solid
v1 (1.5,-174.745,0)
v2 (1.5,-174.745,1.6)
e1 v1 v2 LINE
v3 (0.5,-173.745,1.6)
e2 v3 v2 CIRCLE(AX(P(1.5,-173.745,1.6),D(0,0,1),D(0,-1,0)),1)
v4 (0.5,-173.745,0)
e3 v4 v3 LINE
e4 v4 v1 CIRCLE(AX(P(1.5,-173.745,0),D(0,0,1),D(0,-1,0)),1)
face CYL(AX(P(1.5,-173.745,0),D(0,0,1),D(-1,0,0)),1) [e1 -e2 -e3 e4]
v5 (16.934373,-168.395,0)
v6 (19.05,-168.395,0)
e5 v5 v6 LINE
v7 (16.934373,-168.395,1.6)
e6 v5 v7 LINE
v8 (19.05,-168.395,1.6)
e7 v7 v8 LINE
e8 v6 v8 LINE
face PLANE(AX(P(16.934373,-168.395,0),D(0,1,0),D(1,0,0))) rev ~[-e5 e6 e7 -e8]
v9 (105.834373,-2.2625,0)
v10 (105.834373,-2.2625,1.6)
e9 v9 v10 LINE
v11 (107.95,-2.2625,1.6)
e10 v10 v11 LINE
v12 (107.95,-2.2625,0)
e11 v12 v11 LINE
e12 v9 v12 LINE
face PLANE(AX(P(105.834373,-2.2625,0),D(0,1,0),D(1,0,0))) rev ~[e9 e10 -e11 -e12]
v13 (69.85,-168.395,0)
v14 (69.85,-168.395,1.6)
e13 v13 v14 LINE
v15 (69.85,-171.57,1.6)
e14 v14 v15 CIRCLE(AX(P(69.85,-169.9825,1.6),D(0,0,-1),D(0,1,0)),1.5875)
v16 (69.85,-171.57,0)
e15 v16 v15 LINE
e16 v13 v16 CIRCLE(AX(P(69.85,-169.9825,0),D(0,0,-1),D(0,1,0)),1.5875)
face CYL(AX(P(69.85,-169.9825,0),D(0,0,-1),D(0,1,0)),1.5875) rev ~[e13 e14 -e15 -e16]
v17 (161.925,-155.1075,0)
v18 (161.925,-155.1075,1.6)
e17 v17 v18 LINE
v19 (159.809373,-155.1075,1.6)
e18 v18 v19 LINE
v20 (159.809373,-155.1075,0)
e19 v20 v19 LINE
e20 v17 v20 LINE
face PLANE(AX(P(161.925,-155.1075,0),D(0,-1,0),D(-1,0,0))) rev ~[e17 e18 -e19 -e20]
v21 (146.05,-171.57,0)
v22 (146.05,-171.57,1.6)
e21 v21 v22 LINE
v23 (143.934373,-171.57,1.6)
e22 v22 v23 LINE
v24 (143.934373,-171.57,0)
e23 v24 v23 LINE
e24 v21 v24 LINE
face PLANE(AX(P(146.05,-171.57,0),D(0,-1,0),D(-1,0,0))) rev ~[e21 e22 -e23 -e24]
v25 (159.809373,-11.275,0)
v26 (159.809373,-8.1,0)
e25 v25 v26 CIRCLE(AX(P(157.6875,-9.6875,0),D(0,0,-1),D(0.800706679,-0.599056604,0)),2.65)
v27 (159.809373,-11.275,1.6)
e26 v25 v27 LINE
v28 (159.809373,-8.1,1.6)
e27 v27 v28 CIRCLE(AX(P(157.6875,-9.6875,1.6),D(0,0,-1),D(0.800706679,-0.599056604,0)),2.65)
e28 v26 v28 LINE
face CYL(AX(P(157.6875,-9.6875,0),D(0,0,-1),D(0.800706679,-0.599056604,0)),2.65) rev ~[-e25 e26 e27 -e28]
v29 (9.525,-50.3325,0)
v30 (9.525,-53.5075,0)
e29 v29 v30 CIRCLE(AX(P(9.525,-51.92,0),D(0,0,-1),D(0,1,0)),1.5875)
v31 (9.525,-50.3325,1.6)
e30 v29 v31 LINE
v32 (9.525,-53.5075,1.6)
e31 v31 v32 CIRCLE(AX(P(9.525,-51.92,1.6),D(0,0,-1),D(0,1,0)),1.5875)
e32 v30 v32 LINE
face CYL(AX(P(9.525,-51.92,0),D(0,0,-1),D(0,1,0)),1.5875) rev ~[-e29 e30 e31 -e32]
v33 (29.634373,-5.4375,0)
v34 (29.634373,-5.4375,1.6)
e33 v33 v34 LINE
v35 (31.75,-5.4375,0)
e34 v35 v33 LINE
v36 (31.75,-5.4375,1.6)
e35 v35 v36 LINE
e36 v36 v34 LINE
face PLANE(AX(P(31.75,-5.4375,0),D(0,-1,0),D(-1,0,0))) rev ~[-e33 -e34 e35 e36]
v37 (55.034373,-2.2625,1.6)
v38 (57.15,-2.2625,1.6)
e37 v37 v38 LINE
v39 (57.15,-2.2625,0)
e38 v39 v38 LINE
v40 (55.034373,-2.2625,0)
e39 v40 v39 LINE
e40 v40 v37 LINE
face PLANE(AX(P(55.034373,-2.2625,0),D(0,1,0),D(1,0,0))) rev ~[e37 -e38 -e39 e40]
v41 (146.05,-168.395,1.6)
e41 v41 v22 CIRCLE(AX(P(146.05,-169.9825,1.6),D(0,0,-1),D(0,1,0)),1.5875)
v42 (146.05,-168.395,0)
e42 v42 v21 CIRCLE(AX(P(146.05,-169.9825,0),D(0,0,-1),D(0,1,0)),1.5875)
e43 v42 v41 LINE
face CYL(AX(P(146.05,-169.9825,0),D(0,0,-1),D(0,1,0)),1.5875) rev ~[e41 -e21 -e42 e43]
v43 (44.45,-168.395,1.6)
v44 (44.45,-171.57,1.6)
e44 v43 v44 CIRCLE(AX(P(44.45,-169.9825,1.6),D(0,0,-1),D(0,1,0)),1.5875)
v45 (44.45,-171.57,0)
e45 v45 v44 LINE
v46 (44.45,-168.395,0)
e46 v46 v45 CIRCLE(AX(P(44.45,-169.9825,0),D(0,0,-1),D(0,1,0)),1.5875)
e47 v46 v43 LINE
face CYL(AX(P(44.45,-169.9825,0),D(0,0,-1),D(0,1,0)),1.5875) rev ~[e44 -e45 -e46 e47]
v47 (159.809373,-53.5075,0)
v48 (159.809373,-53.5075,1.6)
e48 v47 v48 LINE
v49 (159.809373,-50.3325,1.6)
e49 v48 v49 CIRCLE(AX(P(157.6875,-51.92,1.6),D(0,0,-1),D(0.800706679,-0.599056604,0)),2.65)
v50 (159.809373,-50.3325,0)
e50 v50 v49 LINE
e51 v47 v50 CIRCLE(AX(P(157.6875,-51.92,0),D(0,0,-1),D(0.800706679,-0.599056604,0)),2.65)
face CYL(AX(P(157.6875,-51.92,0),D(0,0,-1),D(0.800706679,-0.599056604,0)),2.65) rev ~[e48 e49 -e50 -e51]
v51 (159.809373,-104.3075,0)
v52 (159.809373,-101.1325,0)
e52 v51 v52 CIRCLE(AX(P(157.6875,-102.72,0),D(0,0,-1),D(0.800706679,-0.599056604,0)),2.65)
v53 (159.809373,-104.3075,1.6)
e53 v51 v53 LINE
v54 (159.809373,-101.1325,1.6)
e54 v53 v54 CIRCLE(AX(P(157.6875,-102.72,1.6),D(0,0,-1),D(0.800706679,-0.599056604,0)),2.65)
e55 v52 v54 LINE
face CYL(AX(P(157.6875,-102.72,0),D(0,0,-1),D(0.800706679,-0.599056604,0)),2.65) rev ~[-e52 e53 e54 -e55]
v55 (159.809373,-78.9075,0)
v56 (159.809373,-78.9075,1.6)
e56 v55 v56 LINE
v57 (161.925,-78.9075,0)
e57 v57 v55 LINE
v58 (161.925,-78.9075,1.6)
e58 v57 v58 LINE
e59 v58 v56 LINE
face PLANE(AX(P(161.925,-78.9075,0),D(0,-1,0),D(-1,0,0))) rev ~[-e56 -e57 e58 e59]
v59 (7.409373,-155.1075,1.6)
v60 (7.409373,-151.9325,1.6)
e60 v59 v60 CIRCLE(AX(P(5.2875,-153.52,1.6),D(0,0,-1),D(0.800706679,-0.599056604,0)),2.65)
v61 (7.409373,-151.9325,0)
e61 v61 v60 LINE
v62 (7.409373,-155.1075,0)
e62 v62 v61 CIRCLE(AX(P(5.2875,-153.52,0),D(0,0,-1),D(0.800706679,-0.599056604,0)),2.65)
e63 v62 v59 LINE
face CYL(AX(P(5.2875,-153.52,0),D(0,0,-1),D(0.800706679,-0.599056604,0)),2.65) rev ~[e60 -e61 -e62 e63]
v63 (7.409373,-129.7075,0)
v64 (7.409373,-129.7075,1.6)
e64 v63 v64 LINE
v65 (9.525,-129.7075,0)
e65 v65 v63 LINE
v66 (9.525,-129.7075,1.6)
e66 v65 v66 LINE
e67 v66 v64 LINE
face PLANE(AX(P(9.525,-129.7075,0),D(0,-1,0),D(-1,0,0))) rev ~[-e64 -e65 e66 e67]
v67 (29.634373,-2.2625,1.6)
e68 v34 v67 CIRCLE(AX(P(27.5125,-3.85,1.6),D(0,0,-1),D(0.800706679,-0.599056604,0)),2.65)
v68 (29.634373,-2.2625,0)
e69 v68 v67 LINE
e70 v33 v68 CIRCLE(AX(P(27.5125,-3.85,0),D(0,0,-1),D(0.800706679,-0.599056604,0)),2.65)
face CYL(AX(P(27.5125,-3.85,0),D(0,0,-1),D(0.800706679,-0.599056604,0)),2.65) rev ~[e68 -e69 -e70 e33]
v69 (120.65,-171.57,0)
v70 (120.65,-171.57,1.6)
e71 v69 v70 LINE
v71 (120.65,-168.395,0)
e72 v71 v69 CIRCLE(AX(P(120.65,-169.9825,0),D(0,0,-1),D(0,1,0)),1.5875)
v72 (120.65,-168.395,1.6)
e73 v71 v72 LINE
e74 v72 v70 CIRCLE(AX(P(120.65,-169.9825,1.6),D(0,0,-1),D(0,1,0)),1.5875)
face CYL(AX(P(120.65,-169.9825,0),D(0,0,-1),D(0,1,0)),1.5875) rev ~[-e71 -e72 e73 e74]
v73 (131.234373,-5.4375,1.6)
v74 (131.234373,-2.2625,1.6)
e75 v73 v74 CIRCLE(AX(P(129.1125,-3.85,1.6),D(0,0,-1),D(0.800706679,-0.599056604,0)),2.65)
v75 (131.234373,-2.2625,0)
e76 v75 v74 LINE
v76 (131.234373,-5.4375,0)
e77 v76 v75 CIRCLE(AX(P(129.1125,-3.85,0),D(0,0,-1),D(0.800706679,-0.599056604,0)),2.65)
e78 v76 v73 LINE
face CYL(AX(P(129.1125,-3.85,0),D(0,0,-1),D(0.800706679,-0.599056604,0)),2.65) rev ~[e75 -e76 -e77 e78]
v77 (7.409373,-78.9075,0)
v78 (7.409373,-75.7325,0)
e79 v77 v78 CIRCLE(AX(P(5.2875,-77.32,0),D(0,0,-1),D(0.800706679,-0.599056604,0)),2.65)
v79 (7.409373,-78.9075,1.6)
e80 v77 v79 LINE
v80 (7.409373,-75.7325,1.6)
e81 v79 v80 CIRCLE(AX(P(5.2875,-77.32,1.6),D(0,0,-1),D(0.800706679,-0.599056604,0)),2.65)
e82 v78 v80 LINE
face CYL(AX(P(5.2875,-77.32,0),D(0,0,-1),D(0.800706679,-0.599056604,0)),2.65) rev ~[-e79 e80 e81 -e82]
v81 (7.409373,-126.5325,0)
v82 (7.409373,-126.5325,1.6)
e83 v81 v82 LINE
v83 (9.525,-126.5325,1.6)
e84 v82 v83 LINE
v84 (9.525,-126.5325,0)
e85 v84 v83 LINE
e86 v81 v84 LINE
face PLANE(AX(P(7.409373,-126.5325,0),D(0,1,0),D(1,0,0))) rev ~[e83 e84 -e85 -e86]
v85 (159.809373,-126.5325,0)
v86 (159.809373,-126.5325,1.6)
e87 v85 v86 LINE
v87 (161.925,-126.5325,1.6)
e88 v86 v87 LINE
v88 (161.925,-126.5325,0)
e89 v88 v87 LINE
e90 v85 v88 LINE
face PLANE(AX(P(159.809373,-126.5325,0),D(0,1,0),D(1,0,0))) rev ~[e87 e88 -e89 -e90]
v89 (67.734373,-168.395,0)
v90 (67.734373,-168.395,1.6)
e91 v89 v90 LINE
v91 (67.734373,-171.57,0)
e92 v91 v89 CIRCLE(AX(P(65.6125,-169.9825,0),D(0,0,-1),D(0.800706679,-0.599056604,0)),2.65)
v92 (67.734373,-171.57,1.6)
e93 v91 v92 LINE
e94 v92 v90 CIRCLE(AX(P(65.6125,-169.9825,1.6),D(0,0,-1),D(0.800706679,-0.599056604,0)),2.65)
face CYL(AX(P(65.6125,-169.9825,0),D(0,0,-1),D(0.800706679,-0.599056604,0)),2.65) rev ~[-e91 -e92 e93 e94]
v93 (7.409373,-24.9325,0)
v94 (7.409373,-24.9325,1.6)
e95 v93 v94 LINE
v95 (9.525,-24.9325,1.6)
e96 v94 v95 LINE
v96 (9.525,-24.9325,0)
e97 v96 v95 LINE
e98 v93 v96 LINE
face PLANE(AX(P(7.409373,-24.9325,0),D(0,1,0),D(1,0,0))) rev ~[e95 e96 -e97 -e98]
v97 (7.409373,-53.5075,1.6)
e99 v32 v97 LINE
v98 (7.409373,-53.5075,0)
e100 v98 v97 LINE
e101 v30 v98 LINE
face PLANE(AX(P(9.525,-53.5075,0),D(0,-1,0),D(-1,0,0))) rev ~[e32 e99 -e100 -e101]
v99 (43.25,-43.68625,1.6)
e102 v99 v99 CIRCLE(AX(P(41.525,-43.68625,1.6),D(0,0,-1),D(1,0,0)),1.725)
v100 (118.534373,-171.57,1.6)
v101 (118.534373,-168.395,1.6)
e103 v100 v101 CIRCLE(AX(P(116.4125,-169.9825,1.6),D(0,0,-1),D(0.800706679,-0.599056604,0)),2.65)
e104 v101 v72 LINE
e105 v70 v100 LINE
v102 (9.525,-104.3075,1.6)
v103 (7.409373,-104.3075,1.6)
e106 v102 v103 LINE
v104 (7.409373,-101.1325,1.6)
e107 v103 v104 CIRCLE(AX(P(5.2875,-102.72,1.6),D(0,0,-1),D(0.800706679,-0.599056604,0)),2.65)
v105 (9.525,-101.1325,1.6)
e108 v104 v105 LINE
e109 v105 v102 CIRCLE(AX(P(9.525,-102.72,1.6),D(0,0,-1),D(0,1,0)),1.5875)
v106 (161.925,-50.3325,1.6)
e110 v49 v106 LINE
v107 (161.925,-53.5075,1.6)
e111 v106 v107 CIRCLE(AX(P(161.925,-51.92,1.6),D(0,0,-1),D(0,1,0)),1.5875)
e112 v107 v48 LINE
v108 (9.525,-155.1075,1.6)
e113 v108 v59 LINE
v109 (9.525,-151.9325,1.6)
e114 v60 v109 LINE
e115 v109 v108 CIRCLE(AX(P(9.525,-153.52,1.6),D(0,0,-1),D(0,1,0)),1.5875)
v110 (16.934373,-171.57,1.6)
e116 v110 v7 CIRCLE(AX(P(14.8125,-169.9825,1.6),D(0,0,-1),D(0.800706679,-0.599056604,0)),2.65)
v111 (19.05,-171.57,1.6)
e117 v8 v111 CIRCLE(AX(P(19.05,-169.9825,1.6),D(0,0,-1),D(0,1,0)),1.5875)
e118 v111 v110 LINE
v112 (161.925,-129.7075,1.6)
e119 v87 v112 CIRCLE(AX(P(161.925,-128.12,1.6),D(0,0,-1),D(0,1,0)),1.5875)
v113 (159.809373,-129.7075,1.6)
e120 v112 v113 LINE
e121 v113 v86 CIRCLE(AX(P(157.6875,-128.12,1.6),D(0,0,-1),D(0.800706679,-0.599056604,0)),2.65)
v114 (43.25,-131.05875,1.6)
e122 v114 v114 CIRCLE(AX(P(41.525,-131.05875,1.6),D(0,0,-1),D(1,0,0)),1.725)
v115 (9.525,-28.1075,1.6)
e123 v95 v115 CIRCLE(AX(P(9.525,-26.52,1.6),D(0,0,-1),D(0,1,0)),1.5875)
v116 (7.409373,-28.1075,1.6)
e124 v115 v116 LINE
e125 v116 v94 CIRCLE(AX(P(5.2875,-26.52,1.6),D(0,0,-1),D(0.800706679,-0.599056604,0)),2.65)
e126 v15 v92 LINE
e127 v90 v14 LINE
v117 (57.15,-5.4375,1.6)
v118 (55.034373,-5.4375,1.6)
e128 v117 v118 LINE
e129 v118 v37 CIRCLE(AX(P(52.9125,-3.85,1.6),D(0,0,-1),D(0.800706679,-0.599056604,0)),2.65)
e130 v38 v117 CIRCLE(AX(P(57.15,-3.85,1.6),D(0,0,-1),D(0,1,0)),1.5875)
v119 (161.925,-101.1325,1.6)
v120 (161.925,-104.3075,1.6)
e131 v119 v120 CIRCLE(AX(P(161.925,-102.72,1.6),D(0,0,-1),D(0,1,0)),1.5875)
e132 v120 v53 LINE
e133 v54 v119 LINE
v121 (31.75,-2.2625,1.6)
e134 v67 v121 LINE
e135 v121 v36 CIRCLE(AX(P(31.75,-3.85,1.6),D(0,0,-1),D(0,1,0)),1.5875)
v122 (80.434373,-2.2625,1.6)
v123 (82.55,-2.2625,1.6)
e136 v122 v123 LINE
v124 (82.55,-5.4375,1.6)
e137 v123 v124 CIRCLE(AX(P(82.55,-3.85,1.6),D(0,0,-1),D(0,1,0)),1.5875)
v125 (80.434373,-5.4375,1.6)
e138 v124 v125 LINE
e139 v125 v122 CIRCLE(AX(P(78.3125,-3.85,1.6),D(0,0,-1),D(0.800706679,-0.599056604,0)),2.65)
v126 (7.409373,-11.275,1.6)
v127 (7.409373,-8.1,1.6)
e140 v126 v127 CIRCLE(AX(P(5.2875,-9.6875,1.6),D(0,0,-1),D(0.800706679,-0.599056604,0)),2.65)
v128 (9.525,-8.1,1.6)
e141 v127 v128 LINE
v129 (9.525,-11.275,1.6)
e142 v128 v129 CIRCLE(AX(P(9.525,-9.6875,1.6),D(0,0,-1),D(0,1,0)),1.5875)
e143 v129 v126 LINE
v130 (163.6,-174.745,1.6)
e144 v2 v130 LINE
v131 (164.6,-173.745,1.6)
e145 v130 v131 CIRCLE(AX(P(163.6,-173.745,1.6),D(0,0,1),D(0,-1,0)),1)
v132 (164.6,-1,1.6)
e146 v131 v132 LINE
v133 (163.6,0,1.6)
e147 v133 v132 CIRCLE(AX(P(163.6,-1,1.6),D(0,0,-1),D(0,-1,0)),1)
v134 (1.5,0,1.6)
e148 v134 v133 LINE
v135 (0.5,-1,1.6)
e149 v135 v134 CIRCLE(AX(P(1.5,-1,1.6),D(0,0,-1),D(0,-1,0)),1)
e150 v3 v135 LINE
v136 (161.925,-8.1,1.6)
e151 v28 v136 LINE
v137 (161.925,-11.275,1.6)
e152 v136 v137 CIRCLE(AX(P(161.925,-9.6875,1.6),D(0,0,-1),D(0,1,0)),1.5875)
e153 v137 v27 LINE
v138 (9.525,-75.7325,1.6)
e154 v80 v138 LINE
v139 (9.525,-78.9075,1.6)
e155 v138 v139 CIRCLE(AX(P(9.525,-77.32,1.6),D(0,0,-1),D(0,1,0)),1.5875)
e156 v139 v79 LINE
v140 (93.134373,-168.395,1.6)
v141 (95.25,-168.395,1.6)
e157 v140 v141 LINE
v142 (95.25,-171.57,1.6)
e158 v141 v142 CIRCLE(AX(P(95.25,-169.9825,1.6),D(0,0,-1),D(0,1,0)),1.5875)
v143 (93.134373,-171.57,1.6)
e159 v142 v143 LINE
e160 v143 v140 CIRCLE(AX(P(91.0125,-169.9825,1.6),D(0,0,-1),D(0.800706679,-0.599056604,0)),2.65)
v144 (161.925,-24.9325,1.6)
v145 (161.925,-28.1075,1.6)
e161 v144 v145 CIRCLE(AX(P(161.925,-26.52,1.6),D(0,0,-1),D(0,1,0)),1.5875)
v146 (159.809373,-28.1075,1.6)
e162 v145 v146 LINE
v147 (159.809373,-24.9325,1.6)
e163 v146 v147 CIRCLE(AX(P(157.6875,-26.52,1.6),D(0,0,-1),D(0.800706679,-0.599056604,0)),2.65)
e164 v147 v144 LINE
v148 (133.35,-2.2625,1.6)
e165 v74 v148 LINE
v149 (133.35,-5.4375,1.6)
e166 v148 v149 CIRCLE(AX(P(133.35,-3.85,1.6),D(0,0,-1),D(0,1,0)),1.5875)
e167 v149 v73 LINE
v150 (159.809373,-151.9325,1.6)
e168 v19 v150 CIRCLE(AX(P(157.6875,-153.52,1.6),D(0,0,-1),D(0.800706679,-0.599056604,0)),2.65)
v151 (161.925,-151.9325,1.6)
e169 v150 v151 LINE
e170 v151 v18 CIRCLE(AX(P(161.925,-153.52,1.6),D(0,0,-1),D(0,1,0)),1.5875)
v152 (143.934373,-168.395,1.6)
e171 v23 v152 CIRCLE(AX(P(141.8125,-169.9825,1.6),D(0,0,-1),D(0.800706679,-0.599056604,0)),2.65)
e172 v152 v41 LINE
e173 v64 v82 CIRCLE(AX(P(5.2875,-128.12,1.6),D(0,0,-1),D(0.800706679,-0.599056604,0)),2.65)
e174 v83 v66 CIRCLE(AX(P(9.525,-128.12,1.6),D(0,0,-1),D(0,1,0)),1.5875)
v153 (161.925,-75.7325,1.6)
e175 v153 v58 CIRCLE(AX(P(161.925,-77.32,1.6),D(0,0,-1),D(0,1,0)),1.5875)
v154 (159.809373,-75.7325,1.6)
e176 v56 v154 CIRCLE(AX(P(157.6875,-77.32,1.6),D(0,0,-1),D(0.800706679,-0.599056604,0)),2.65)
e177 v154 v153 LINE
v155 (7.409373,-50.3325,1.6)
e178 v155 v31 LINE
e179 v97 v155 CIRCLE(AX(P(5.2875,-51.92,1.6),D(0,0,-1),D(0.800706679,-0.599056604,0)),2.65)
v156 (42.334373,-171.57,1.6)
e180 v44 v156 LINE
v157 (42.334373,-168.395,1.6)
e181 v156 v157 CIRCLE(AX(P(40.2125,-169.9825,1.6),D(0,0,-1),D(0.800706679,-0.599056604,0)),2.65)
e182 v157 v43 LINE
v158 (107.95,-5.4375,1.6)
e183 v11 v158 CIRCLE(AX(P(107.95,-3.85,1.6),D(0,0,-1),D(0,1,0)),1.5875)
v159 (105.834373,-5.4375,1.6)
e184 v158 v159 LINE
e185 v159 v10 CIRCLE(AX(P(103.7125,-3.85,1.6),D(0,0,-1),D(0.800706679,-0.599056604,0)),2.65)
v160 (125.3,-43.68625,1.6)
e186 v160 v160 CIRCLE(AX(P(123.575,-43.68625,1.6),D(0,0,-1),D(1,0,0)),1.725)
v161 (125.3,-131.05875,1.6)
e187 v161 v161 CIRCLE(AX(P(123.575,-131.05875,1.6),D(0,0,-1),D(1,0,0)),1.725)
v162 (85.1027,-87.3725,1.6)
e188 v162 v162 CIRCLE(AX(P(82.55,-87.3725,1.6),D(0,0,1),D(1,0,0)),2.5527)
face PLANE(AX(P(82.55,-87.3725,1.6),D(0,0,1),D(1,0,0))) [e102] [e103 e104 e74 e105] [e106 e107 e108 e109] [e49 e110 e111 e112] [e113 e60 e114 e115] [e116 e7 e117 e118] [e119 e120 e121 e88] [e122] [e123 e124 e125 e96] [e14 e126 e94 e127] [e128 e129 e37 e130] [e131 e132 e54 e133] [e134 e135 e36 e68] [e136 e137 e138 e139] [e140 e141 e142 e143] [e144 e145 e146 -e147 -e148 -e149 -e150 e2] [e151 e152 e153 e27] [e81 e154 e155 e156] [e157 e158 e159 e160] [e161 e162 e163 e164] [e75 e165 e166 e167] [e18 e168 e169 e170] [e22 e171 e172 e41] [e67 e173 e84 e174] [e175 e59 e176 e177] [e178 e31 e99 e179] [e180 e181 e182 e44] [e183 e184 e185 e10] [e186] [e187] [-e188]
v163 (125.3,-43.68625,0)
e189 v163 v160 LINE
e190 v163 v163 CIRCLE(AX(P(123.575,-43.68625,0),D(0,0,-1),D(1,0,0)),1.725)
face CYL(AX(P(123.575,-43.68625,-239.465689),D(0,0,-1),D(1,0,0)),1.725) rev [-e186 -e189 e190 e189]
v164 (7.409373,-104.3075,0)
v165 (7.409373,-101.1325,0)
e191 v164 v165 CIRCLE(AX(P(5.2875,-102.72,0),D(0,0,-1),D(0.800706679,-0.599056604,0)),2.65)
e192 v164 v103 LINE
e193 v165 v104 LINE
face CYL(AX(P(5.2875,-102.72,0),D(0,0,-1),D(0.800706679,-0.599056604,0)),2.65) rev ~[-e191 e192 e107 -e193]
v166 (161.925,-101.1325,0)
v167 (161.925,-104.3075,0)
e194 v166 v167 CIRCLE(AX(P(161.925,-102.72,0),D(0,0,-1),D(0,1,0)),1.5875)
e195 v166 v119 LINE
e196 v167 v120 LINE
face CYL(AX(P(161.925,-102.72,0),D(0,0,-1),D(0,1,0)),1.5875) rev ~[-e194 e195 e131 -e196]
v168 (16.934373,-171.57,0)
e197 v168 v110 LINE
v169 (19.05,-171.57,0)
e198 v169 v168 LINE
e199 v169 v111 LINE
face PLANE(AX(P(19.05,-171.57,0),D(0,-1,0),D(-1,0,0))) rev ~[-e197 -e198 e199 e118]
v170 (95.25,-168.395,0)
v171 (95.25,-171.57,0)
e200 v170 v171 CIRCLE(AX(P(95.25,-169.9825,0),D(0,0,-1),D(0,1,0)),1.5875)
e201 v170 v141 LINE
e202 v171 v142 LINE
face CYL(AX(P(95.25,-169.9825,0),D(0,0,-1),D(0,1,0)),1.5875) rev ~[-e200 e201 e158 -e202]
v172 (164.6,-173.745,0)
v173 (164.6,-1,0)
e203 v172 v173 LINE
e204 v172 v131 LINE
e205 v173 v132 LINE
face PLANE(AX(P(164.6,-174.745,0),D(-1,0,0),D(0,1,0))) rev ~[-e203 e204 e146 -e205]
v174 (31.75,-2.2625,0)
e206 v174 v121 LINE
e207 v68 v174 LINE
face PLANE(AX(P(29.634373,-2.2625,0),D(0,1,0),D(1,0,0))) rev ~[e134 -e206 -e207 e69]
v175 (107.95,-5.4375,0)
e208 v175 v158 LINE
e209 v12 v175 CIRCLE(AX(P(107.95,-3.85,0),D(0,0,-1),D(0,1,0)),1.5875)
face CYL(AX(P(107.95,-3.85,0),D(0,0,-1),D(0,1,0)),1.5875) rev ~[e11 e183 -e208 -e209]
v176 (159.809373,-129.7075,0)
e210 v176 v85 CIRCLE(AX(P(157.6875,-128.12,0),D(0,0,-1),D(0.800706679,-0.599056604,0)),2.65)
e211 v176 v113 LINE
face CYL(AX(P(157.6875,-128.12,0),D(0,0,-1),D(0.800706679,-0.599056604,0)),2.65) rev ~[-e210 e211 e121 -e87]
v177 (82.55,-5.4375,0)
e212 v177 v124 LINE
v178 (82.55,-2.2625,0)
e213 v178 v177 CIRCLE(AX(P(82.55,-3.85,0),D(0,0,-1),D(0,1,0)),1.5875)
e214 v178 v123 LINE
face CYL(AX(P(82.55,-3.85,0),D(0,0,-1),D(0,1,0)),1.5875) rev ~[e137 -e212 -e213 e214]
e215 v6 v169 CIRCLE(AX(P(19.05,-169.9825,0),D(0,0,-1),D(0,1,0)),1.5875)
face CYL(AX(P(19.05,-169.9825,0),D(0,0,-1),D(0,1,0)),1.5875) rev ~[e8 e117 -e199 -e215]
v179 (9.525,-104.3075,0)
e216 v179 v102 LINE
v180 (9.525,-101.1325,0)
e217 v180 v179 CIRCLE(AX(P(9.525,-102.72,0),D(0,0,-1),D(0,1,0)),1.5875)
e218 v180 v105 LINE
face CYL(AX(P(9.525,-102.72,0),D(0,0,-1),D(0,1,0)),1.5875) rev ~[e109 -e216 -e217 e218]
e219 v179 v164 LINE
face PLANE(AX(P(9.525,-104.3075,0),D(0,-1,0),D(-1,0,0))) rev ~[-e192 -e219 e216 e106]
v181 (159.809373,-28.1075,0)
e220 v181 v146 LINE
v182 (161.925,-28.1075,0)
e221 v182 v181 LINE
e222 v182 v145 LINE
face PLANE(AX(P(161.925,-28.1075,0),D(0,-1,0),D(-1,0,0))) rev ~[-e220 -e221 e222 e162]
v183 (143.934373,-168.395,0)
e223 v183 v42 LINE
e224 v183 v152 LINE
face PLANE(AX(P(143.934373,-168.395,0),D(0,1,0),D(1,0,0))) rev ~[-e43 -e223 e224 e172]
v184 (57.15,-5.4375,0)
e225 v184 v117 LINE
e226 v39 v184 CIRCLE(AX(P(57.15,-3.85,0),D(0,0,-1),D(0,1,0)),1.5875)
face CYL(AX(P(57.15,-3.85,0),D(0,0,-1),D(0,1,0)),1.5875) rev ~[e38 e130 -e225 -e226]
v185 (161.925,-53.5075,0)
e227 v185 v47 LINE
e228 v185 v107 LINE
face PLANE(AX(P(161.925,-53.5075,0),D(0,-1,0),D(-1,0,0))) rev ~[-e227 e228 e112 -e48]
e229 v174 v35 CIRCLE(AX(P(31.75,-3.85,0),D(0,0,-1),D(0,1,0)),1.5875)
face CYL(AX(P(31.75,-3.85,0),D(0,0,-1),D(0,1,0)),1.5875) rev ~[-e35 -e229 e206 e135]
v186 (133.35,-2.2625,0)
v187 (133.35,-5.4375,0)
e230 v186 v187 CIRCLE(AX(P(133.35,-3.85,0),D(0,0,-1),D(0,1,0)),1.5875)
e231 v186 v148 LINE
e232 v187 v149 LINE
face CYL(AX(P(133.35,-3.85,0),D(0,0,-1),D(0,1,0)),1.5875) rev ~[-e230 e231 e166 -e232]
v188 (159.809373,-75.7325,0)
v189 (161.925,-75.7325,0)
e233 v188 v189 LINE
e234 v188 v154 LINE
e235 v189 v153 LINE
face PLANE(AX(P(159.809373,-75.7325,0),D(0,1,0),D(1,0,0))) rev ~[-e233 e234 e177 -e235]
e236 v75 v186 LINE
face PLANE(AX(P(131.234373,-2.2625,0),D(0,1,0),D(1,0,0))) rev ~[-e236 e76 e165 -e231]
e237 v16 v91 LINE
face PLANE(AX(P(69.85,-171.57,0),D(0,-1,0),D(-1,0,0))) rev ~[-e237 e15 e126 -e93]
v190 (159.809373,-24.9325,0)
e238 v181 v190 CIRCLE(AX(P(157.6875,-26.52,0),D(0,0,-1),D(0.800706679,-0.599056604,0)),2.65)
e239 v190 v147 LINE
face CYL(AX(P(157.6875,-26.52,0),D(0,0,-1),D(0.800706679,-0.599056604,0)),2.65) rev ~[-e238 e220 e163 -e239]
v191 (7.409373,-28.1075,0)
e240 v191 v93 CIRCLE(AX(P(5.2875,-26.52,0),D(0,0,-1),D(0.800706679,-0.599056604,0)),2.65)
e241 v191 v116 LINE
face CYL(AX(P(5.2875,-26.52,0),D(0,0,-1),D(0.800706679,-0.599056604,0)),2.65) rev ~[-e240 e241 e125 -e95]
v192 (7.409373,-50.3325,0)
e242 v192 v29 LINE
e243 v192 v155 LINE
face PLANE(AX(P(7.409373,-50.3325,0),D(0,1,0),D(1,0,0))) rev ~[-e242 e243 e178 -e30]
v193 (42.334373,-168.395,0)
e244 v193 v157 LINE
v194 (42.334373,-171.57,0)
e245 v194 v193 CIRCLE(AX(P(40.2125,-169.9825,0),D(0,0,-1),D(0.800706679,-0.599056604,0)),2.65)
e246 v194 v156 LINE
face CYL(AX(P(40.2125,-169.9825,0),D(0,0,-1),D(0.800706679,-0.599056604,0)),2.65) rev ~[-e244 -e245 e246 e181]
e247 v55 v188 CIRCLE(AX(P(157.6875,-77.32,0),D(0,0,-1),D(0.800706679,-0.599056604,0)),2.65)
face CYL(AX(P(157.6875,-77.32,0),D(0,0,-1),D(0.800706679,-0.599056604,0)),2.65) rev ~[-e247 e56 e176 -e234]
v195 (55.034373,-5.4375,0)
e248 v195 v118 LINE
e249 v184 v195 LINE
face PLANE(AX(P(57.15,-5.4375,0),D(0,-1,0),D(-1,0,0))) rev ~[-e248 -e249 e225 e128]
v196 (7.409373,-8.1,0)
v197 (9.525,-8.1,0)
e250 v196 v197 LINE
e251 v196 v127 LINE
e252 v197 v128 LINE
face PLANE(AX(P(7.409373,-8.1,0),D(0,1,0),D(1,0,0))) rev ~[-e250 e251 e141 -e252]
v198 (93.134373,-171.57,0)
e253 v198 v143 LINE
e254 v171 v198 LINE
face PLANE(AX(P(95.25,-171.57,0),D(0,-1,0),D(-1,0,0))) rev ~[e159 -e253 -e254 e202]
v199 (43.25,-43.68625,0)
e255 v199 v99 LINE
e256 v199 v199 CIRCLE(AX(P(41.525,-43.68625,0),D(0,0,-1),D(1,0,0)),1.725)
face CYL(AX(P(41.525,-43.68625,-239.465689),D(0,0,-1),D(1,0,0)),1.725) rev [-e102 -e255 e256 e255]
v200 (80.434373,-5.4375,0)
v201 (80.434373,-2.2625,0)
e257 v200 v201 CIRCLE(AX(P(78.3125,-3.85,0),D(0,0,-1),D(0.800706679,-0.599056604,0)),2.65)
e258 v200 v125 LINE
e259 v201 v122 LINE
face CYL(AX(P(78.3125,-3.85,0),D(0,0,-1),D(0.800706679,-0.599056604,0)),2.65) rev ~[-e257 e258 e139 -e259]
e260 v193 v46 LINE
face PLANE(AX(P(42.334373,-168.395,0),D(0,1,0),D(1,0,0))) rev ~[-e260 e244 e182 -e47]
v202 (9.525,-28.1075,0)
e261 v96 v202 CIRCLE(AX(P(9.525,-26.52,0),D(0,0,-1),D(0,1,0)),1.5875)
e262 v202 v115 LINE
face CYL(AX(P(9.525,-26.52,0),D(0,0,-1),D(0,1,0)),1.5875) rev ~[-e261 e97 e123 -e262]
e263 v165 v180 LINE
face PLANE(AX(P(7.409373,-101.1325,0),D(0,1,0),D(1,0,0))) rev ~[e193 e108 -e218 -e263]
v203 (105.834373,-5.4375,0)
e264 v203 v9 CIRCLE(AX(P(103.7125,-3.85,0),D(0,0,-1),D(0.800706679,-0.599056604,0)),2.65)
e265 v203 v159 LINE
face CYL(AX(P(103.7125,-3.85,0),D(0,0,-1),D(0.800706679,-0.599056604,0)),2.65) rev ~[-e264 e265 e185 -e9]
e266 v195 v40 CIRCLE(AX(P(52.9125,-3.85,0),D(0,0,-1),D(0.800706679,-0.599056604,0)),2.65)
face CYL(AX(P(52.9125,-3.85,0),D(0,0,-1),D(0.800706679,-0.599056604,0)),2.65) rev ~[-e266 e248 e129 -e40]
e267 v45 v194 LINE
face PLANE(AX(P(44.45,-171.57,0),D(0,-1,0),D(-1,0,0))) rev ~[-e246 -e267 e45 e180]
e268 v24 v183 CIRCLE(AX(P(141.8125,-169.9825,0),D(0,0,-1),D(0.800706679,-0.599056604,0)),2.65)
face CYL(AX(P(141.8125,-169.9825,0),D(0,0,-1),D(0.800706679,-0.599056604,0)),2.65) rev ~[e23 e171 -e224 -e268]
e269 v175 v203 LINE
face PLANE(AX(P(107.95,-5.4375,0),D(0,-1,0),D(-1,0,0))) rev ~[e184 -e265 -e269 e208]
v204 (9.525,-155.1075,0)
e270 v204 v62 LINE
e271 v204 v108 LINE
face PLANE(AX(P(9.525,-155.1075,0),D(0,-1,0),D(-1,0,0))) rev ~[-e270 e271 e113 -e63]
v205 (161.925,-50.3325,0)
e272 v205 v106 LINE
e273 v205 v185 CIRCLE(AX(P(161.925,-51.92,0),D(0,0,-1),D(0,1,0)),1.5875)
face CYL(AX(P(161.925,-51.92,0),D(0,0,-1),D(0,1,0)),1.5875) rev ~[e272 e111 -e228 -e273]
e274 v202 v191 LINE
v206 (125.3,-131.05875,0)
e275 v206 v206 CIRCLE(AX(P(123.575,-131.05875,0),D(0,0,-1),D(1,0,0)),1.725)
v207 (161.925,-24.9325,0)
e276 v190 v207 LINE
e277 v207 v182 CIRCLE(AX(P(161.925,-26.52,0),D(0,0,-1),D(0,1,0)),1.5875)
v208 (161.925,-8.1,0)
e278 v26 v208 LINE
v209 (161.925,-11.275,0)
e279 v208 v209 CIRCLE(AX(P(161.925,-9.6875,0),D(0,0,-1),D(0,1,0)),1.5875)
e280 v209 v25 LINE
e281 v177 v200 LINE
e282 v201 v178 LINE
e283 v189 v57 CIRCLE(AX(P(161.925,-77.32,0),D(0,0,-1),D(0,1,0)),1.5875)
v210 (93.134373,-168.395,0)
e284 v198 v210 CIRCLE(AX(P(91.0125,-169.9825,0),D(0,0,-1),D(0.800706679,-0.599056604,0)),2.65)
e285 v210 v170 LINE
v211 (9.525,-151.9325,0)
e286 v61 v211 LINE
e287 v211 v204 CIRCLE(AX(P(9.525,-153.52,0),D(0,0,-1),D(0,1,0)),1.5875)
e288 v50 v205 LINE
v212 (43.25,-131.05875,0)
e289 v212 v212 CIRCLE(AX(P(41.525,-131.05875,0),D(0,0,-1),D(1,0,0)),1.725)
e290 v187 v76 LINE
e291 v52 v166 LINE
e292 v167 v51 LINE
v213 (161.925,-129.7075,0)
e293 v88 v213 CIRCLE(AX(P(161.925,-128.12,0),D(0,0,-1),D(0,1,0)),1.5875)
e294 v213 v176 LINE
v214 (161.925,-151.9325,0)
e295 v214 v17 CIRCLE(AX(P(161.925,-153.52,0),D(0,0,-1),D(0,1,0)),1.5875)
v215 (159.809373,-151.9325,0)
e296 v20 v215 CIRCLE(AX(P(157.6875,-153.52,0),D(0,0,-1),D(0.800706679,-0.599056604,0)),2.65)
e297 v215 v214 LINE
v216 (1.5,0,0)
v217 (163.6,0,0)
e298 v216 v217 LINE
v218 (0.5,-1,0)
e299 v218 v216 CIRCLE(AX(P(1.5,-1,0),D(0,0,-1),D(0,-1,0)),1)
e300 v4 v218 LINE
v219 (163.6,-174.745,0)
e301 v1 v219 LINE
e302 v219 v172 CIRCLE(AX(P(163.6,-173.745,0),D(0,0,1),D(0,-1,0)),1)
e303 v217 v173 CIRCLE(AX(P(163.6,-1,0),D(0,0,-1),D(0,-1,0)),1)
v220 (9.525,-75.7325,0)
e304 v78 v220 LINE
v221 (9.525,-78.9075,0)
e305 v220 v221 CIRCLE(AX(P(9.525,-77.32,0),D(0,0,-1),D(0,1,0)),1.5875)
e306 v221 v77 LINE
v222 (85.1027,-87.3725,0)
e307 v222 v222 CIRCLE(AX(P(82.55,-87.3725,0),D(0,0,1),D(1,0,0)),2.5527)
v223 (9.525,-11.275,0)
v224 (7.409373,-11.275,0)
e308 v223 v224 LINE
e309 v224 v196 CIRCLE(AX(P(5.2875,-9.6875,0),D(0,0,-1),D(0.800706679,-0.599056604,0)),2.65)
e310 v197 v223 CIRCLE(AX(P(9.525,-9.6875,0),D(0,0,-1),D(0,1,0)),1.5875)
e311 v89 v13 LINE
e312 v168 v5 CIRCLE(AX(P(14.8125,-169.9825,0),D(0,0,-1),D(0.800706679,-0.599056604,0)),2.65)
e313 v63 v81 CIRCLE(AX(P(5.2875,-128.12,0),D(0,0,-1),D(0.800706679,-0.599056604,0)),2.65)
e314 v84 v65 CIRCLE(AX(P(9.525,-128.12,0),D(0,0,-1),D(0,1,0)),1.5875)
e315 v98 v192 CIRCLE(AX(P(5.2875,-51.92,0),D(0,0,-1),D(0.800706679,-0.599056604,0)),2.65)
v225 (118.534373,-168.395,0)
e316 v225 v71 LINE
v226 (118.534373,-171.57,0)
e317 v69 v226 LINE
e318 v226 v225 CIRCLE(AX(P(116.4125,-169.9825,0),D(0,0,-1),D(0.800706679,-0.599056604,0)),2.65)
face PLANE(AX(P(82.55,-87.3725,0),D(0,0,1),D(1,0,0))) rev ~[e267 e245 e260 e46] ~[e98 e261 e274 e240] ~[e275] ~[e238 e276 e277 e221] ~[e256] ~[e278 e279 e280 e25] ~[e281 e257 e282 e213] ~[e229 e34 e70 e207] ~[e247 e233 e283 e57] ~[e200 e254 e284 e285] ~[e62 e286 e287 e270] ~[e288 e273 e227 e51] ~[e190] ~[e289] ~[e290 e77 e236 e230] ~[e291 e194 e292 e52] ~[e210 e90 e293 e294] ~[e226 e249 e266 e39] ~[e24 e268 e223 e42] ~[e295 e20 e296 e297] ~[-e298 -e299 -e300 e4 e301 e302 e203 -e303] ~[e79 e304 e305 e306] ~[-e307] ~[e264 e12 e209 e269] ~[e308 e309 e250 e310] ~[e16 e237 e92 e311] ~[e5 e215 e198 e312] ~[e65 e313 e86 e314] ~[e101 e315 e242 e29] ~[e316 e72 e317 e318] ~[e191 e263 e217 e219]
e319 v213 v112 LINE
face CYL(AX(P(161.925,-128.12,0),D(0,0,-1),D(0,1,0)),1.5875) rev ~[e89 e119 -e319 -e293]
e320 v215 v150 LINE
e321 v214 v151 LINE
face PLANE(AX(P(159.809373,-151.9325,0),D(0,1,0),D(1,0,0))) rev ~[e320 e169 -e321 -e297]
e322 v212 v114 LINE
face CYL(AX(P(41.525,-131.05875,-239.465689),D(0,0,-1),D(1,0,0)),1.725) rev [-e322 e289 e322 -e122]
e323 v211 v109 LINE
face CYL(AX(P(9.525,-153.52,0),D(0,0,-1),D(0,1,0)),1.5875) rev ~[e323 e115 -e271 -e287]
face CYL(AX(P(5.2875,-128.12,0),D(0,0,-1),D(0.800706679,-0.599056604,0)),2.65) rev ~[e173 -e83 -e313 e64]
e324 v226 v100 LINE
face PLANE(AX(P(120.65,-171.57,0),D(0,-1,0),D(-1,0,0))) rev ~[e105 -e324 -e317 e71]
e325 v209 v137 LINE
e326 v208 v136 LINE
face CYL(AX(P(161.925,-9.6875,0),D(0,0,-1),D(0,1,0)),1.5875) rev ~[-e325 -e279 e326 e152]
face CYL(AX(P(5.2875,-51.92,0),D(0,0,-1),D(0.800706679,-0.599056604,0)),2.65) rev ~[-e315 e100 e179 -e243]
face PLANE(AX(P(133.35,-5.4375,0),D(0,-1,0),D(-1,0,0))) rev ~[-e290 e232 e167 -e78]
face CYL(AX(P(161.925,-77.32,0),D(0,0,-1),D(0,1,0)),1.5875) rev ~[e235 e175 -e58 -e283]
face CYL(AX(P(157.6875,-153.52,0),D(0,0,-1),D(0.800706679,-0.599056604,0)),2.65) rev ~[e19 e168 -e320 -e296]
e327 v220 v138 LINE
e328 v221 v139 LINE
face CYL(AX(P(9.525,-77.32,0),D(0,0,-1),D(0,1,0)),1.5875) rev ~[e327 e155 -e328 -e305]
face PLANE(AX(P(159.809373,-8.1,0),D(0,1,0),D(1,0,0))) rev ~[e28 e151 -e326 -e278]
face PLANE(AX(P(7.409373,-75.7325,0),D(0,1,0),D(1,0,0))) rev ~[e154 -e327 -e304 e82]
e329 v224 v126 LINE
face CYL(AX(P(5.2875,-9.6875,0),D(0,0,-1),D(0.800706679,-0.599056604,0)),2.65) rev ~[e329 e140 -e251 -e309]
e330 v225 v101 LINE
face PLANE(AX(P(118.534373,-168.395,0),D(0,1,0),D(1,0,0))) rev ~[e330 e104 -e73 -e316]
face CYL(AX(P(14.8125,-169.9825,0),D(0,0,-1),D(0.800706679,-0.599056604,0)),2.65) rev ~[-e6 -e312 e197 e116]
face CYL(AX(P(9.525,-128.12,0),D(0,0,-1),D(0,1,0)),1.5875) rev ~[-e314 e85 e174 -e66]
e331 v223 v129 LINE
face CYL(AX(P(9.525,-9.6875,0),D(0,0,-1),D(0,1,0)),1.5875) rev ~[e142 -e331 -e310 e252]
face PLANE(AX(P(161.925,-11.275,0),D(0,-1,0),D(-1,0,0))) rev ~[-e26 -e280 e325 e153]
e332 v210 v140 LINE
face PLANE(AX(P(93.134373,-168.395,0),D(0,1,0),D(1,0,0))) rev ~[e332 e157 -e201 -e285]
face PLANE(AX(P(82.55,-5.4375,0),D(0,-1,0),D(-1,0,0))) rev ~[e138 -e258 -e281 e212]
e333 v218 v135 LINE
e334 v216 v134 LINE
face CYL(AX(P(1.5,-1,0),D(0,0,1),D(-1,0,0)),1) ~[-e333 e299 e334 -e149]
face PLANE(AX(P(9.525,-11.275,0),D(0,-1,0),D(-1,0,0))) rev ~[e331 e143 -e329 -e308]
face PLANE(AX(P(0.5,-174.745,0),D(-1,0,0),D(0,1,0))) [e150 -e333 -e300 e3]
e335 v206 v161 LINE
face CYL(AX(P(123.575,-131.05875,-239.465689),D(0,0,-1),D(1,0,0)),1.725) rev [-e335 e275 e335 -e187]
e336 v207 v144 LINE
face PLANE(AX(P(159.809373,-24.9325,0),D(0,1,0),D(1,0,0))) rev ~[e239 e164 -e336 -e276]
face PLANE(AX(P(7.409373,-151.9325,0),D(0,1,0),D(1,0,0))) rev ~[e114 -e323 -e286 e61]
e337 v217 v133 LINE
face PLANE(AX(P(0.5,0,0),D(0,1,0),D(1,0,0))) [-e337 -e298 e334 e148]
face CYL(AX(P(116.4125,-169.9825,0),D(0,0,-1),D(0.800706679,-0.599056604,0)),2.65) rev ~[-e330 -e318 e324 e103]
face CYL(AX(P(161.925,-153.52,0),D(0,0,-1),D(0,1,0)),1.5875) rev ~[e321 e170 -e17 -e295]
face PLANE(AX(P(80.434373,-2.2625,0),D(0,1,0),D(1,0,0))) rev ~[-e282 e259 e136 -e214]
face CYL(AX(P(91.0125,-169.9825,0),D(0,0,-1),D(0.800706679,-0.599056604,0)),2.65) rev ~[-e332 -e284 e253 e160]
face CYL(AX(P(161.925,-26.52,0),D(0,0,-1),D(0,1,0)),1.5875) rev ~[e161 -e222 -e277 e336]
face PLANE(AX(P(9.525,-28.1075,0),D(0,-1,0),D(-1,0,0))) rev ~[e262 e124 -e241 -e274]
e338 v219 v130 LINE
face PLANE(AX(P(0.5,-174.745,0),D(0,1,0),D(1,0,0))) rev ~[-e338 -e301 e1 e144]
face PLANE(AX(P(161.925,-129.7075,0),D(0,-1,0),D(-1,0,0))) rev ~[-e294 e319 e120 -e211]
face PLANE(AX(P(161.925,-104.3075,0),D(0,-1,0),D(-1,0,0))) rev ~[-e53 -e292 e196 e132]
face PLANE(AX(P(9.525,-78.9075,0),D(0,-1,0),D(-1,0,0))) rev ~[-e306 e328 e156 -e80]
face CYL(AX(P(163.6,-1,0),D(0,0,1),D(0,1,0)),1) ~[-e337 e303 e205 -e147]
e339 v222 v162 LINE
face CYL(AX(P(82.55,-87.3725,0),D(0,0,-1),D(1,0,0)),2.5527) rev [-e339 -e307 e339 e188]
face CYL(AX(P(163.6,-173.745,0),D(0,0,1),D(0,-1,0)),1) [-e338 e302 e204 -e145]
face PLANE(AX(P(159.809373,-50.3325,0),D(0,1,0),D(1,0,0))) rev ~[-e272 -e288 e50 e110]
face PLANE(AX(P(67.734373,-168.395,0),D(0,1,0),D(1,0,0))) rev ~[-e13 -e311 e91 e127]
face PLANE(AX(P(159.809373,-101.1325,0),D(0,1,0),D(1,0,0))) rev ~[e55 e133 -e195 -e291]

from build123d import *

# Parameters (mm, degrees)
SKETCH1_W               = 164.1
SKETCH1_H               = 174.745
SKETCH1_R               = 2.5527
BOSS_EXTRUDE1_DEPTH     = 1.6
FILLET1_R               = 1
CUT_EXTRUDE1_DEPTH      = 241.065688979
CUT_EXTRUDE1_DEPTH_BACK = 241.065688979
SKETCH2_R               = 1.725


with BuildPart() as part:
    # Sketch1 → Boss-Extrude1 (new body)
    with BuildSketch(Plane.XY):
        with Locations((82.55, -87.3725)):
            Rectangle(SKETCH1_W, SKETCH1_H)
        with Locations((82.55, -87.3725)):
            Circle(SKETCH1_R, mode=Mode.SUBTRACT)
        with BuildLine():
            Line((82.55, -5.4375), (80.434372699, -5.4375))
            ThreePointArc((80.434372699, -5.4375), (75.6625, -3.85), (80.434372699, -2.2625))
            Line((80.434372699, -2.2625), (82.55, -2.2625))
            ThreePointArc((82.55, -2.2625), (84.1375, -3.85), (82.55, -5.4375))
        make_face(mode=Mode.SUBTRACT)
        with BuildLine():
            Line((16.934372699, -168.395), (19.05, -168.395))
            ThreePointArc((19.05, -168.395), (20.6375, -169.9825), (19.05, -171.57))
            Line((19.05, -171.57), (16.934372699, -171.57))
            ThreePointArc((16.934372699, -171.57), (12.1625, -169.9825), (16.934372699, -168.395))
        make_face(mode=Mode.SUBTRACT)
        with BuildLine():
            Line((7.409372699, -151.9325), (9.525, -151.9325))
            ThreePointArc((9.525, -151.9325), (11.1125, -153.52), (9.525, -155.1075))
            Line((9.525, -155.1075), (7.409372699, -155.1075))
            ThreePointArc((7.409372699, -155.1075), (2.6375, -153.52), (7.409372699, -151.9325))
        make_face(mode=Mode.SUBTRACT)
        with BuildLine():
            Line((42.334372699, -168.395), (44.45, -168.395))
            ThreePointArc((44.45, -168.395), (46.0375, -169.9825), (44.45, -171.57))
            Line((44.45, -171.57), (42.334372699, -171.57))
            ThreePointArc((42.334372699, -171.57), (37.5625, -169.9825), (42.334372699, -168.395))
        make_face(mode=Mode.SUBTRACT)
        with BuildLine():
            Line((67.734372699, -168.395), (69.85, -168.395))
            ThreePointArc((69.85, -168.395), (71.4375, -169.9825), (69.85, -171.57))
            Line((69.85, -171.57), (67.734372699, -171.57))
            ThreePointArc((67.734372699, -171.57), (62.9625, -169.9825), (67.734372699, -168.395))
        make_face(mode=Mode.SUBTRACT)
        with BuildLine():
            Line((7.409372699, -126.5325), (9.525, -126.5325))
            ThreePointArc((9.525, -126.5325), (11.1125, -128.12), (9.525, -129.7075))
            Line((9.525, -129.7075), (7.409372699, -129.7075))
            ThreePointArc((7.409372699, -129.7075), (2.6375, -128.12), (7.409372699, -126.5325))
        make_face(mode=Mode.SUBTRACT)
        with BuildLine():
            Line((7.409372699, -101.1325), (9.525, -101.1325))
            ThreePointArc((9.525, -101.1325), (11.1125, -102.72), (9.525, -104.3075))
            Line((9.525, -104.3075), (7.409372699, -104.3075))
            ThreePointArc((7.409372699, -104.3075), (2.6375, -102.72), (7.409372699, -101.1325))
        make_face(mode=Mode.SUBTRACT)
        with BuildLine():
            Line((7.409372699, -75.7325), (9.525, -75.7325))
            ThreePointArc((9.525, -75.7325), (11.1125, -77.32), (9.525, -78.9075))
            Line((9.525, -78.9075), (7.409372699, -78.9075))
            ThreePointArc((7.409372699, -78.9075), (2.6375, -77.32), (7.409372699, -75.7325))
        make_face(mode=Mode.SUBTRACT)
        with BuildLine():
            Line((7.409372699, -50.3325), (9.525, -50.3325))
            ThreePointArc((9.525, -50.3325), (11.1125, -51.92), (9.525, -53.5075))
            Line((9.525, -53.5075), (7.409372699, -53.5075))
            ThreePointArc((7.409372699, -53.5075), (2.6375, -51.92), (7.409372699, -50.3325))
        make_face(mode=Mode.SUBTRACT)
        with BuildLine():
            Line((7.409372699, -24.9325), (9.525, -24.9325))
            ThreePointArc((9.525, -24.9325), (11.1125, -26.52), (9.525, -28.1075))
            Line((9.525, -28.1075), (7.409372699, -28.1075))
            ThreePointArc((7.409372699, -28.1075), (2.6375, -26.52), (7.409372699, -24.9325))
        make_face(mode=Mode.SUBTRACT)
        with BuildLine():
            Line((7.409372699, -8.1), (9.525, -8.1))
            ThreePointArc((9.525, -8.1), (11.1125, -9.6875), (9.525, -11.275))
            Line((9.525, -11.275), (7.409372699, -11.275))
            ThreePointArc((7.409372699, -11.275), (2.6375, -9.6875), (7.409372699, -8.1))
        make_face(mode=Mode.SUBTRACT)
        with BuildLine():
            Line((29.634372699, -2.2625), (31.75, -2.2625))
            ThreePointArc((31.75, -2.2625), (33.3375, -3.85), (31.75, -5.4375))
            Line((31.75, -5.4375), (29.634372699, -5.4375))
            ThreePointArc((29.634372699, -5.4375), (24.8625, -3.85), (29.634372699, -2.2625))
        make_face(mode=Mode.SUBTRACT)
        with BuildLine():
            Line((55.034372699, -2.2625), (57.15, -2.2625))
            ThreePointArc((57.15, -2.2625), (58.7375, -3.85), (57.15, -5.4375))
            Line((57.15, -5.4375), (55.034372699, -5.4375))
            ThreePointArc((55.034372699, -5.4375), (50.2625, -3.85), (55.034372699, -2.2625))
        make_face(mode=Mode.SUBTRACT)
        with BuildLine():
            ThreePointArc((161.925, -8.1), (163.5125, -9.6875), (161.925, -11.275))
            Line((161.925, -11.275), (159.809372699, -11.275))
            ThreePointArc((159.809372699, -11.275), (155.0375, -9.6875), (159.809372699, -8.1))
            Line((159.809372699, -8.1), (161.925, -8.1))
        make_face(mode=Mode.SUBTRACT)
        with BuildLine():
            Line((93.134372699, -168.395), (95.25, -168.395))
            ThreePointArc((95.25, -168.395), (96.8375, -169.9825), (95.25, -171.57))
            Line((95.25, -171.57), (93.134372699, -171.57))
            ThreePointArc((93.134372699, -171.57), (88.3625, -169.9825), (93.134372699, -168.395))
        make_face(mode=Mode.SUBTRACT)
        with BuildLine():
            Line((118.534372699, -168.395), (120.65, -168.395))
            ThreePointArc((120.65, -168.395), (122.2375, -169.9825), (120.65, -171.57))
            Line((120.65, -171.57), (118.534372699, -171.57))
            ThreePointArc((118.534372699, -171.57), (113.7625, -169.9825), (118.534372699, -168.395))
        make_face(mode=Mode.SUBTRACT)
        with BuildLine():
            Line((143.934372699, -168.395), (146.05, -168.395))
            ThreePointArc((146.05, -168.395), (147.6375, -169.9825), (146.05, -171.57))
            Line((146.05, -171.57), (143.934372699, -171.57))
            ThreePointArc((143.934372699, -171.57), (139.1625, -169.9825), (143.934372699, -168.395))
        make_face(mode=Mode.SUBTRACT)
        with BuildLine():
            Line((159.809372699, -151.9325), (161.925, -151.9325))
            ThreePointArc((161.925, -151.9325), (163.5125, -153.52), (161.925, -155.1075))
            Line((161.925, -155.1075), (159.809372699, -155.1075))
            ThreePointArc((159.809372699, -155.1075), (155.0375, -153.52), (159.809372699, -151.9325))
        make_face(mode=Mode.SUBTRACT)
        with BuildLine():
            Line((159.809372699, -126.5325), (161.925, -126.5325))
            ThreePointArc((161.925, -126.5325), (163.5125, -128.12), (161.925, -129.7075))
            Line((161.925, -129.7075), (159.809372699, -129.7075))
            ThreePointArc((159.809372699, -129.7075), (155.0375, -128.12), (159.809372699, -126.5325))
        make_face(mode=Mode.SUBTRACT)
        with BuildLine():
            Line((159.809372699, -101.1325), (161.925, -101.1325))
            ThreePointArc((161.925, -101.1325), (163.5125, -102.72), (161.925, -104.3075))
            Line((161.925, -104.3075), (159.809372699, -104.3075))
            ThreePointArc((159.809372699, -104.3075), (155.0375, -102.72), (159.809372699, -101.1325))
        make_face(mode=Mode.SUBTRACT)
        with BuildLine():
            Line((159.809372699, -75.7325), (161.925, -75.7325))
            ThreePointArc((161.925, -75.7325), (163.5125, -77.32), (161.925, -78.9075))
            Line((161.925, -78.9075), (159.809372699, -78.9075))
            ThreePointArc((159.809372699, -78.9075), (155.0375, -77.32), (159.809372699, -75.7325))
        make_face(mode=Mode.SUBTRACT)
        with BuildLine():
            Line((159.809372699, -50.3325), (161.925, -50.3325))
            ThreePointArc((161.925, -50.3325), (163.5125, -51.92), (161.925, -53.5075))
            Line((161.925, -53.5075), (159.809372699, -53.5075))
            ThreePointArc((159.809372699, -53.5075), (155.0375, -51.92), (159.809372699, -50.3325))
        make_face(mode=Mode.SUBTRACT)
        with BuildLine():
            Line((105.834372699, -2.2625), (107.95, -2.2625))
            ThreePointArc((107.95, -2.2625), (109.5375, -3.85), (107.95, -5.4375))
            Line((107.95, -5.4375), (105.834372699, -5.4375))
            ThreePointArc((105.834372699, -5.4375), (101.0625, -3.85), (105.834372699, -2.2625))
        make_face(mode=Mode.SUBTRACT)
        with BuildLine():
            Line((159.809372699, -24.9325), (161.925, -24.9325))
            ThreePointArc((161.925, -24.9325), (163.5125, -26.52), (161.925, -28.1075))
            Line((161.925, -28.1075), (159.809372699, -28.1075))
            ThreePointArc((159.809372699, -28.1075), (155.0375, -26.52), (159.809372699, -24.9325))
        make_face(mode=Mode.SUBTRACT)
        with BuildLine():
            Line((131.234372699, -2.2625), (133.35, -2.2625))
            ThreePointArc((133.35, -2.2625), (134.9375, -3.85), (133.35, -5.4375))
            Line((133.35, -5.4375), (131.234372699, -5.4375))
            ThreePointArc((131.234372699, -5.4375), (126.4625, -3.85), (131.234372699, -2.2625))
        make_face(mode=Mode.SUBTRACT)
    extrude(amount=BOSS_EXTRUDE1_DEPTH)

    # Fillet1
    fillet1_edges = [part.edges().sort_by_distance(p)[0] for p in [
        (0.5, -174.745, 0.8),
        (0.5, 0, 0.8),
        (164.6, 0, 0.8),
        (164.6, -174.745, 0.8),
    ]]
    fillet(fillet1_edges, radius=FILLET1_R)

    # Sketch2 → Cut-Extrude1 (cut, two sides: drawn at the far end of the back side and taken through both)
    with BuildSketch(Plane.XY.offset(1.6).offset(-CUT_EXTRUDE1_DEPTH_BACK)):
        with Locations((41.525, -43.68625)):
            Circle(SKETCH2_R)
        with Locations((123.575, -43.68625)):
            Circle(SKETCH2_R)
        with Locations((123.575, -131.05875)):
            Circle(SKETCH2_R)
        with Locations((41.525, -131.05875)):
            Circle(SKETCH2_R)
    extrude(amount=CUT_EXTRUDE1_DEPTH + CUT_EXTRUDE1_DEPTH_BACK, mode=Mode.SUBTRACT)


solid = part.part
